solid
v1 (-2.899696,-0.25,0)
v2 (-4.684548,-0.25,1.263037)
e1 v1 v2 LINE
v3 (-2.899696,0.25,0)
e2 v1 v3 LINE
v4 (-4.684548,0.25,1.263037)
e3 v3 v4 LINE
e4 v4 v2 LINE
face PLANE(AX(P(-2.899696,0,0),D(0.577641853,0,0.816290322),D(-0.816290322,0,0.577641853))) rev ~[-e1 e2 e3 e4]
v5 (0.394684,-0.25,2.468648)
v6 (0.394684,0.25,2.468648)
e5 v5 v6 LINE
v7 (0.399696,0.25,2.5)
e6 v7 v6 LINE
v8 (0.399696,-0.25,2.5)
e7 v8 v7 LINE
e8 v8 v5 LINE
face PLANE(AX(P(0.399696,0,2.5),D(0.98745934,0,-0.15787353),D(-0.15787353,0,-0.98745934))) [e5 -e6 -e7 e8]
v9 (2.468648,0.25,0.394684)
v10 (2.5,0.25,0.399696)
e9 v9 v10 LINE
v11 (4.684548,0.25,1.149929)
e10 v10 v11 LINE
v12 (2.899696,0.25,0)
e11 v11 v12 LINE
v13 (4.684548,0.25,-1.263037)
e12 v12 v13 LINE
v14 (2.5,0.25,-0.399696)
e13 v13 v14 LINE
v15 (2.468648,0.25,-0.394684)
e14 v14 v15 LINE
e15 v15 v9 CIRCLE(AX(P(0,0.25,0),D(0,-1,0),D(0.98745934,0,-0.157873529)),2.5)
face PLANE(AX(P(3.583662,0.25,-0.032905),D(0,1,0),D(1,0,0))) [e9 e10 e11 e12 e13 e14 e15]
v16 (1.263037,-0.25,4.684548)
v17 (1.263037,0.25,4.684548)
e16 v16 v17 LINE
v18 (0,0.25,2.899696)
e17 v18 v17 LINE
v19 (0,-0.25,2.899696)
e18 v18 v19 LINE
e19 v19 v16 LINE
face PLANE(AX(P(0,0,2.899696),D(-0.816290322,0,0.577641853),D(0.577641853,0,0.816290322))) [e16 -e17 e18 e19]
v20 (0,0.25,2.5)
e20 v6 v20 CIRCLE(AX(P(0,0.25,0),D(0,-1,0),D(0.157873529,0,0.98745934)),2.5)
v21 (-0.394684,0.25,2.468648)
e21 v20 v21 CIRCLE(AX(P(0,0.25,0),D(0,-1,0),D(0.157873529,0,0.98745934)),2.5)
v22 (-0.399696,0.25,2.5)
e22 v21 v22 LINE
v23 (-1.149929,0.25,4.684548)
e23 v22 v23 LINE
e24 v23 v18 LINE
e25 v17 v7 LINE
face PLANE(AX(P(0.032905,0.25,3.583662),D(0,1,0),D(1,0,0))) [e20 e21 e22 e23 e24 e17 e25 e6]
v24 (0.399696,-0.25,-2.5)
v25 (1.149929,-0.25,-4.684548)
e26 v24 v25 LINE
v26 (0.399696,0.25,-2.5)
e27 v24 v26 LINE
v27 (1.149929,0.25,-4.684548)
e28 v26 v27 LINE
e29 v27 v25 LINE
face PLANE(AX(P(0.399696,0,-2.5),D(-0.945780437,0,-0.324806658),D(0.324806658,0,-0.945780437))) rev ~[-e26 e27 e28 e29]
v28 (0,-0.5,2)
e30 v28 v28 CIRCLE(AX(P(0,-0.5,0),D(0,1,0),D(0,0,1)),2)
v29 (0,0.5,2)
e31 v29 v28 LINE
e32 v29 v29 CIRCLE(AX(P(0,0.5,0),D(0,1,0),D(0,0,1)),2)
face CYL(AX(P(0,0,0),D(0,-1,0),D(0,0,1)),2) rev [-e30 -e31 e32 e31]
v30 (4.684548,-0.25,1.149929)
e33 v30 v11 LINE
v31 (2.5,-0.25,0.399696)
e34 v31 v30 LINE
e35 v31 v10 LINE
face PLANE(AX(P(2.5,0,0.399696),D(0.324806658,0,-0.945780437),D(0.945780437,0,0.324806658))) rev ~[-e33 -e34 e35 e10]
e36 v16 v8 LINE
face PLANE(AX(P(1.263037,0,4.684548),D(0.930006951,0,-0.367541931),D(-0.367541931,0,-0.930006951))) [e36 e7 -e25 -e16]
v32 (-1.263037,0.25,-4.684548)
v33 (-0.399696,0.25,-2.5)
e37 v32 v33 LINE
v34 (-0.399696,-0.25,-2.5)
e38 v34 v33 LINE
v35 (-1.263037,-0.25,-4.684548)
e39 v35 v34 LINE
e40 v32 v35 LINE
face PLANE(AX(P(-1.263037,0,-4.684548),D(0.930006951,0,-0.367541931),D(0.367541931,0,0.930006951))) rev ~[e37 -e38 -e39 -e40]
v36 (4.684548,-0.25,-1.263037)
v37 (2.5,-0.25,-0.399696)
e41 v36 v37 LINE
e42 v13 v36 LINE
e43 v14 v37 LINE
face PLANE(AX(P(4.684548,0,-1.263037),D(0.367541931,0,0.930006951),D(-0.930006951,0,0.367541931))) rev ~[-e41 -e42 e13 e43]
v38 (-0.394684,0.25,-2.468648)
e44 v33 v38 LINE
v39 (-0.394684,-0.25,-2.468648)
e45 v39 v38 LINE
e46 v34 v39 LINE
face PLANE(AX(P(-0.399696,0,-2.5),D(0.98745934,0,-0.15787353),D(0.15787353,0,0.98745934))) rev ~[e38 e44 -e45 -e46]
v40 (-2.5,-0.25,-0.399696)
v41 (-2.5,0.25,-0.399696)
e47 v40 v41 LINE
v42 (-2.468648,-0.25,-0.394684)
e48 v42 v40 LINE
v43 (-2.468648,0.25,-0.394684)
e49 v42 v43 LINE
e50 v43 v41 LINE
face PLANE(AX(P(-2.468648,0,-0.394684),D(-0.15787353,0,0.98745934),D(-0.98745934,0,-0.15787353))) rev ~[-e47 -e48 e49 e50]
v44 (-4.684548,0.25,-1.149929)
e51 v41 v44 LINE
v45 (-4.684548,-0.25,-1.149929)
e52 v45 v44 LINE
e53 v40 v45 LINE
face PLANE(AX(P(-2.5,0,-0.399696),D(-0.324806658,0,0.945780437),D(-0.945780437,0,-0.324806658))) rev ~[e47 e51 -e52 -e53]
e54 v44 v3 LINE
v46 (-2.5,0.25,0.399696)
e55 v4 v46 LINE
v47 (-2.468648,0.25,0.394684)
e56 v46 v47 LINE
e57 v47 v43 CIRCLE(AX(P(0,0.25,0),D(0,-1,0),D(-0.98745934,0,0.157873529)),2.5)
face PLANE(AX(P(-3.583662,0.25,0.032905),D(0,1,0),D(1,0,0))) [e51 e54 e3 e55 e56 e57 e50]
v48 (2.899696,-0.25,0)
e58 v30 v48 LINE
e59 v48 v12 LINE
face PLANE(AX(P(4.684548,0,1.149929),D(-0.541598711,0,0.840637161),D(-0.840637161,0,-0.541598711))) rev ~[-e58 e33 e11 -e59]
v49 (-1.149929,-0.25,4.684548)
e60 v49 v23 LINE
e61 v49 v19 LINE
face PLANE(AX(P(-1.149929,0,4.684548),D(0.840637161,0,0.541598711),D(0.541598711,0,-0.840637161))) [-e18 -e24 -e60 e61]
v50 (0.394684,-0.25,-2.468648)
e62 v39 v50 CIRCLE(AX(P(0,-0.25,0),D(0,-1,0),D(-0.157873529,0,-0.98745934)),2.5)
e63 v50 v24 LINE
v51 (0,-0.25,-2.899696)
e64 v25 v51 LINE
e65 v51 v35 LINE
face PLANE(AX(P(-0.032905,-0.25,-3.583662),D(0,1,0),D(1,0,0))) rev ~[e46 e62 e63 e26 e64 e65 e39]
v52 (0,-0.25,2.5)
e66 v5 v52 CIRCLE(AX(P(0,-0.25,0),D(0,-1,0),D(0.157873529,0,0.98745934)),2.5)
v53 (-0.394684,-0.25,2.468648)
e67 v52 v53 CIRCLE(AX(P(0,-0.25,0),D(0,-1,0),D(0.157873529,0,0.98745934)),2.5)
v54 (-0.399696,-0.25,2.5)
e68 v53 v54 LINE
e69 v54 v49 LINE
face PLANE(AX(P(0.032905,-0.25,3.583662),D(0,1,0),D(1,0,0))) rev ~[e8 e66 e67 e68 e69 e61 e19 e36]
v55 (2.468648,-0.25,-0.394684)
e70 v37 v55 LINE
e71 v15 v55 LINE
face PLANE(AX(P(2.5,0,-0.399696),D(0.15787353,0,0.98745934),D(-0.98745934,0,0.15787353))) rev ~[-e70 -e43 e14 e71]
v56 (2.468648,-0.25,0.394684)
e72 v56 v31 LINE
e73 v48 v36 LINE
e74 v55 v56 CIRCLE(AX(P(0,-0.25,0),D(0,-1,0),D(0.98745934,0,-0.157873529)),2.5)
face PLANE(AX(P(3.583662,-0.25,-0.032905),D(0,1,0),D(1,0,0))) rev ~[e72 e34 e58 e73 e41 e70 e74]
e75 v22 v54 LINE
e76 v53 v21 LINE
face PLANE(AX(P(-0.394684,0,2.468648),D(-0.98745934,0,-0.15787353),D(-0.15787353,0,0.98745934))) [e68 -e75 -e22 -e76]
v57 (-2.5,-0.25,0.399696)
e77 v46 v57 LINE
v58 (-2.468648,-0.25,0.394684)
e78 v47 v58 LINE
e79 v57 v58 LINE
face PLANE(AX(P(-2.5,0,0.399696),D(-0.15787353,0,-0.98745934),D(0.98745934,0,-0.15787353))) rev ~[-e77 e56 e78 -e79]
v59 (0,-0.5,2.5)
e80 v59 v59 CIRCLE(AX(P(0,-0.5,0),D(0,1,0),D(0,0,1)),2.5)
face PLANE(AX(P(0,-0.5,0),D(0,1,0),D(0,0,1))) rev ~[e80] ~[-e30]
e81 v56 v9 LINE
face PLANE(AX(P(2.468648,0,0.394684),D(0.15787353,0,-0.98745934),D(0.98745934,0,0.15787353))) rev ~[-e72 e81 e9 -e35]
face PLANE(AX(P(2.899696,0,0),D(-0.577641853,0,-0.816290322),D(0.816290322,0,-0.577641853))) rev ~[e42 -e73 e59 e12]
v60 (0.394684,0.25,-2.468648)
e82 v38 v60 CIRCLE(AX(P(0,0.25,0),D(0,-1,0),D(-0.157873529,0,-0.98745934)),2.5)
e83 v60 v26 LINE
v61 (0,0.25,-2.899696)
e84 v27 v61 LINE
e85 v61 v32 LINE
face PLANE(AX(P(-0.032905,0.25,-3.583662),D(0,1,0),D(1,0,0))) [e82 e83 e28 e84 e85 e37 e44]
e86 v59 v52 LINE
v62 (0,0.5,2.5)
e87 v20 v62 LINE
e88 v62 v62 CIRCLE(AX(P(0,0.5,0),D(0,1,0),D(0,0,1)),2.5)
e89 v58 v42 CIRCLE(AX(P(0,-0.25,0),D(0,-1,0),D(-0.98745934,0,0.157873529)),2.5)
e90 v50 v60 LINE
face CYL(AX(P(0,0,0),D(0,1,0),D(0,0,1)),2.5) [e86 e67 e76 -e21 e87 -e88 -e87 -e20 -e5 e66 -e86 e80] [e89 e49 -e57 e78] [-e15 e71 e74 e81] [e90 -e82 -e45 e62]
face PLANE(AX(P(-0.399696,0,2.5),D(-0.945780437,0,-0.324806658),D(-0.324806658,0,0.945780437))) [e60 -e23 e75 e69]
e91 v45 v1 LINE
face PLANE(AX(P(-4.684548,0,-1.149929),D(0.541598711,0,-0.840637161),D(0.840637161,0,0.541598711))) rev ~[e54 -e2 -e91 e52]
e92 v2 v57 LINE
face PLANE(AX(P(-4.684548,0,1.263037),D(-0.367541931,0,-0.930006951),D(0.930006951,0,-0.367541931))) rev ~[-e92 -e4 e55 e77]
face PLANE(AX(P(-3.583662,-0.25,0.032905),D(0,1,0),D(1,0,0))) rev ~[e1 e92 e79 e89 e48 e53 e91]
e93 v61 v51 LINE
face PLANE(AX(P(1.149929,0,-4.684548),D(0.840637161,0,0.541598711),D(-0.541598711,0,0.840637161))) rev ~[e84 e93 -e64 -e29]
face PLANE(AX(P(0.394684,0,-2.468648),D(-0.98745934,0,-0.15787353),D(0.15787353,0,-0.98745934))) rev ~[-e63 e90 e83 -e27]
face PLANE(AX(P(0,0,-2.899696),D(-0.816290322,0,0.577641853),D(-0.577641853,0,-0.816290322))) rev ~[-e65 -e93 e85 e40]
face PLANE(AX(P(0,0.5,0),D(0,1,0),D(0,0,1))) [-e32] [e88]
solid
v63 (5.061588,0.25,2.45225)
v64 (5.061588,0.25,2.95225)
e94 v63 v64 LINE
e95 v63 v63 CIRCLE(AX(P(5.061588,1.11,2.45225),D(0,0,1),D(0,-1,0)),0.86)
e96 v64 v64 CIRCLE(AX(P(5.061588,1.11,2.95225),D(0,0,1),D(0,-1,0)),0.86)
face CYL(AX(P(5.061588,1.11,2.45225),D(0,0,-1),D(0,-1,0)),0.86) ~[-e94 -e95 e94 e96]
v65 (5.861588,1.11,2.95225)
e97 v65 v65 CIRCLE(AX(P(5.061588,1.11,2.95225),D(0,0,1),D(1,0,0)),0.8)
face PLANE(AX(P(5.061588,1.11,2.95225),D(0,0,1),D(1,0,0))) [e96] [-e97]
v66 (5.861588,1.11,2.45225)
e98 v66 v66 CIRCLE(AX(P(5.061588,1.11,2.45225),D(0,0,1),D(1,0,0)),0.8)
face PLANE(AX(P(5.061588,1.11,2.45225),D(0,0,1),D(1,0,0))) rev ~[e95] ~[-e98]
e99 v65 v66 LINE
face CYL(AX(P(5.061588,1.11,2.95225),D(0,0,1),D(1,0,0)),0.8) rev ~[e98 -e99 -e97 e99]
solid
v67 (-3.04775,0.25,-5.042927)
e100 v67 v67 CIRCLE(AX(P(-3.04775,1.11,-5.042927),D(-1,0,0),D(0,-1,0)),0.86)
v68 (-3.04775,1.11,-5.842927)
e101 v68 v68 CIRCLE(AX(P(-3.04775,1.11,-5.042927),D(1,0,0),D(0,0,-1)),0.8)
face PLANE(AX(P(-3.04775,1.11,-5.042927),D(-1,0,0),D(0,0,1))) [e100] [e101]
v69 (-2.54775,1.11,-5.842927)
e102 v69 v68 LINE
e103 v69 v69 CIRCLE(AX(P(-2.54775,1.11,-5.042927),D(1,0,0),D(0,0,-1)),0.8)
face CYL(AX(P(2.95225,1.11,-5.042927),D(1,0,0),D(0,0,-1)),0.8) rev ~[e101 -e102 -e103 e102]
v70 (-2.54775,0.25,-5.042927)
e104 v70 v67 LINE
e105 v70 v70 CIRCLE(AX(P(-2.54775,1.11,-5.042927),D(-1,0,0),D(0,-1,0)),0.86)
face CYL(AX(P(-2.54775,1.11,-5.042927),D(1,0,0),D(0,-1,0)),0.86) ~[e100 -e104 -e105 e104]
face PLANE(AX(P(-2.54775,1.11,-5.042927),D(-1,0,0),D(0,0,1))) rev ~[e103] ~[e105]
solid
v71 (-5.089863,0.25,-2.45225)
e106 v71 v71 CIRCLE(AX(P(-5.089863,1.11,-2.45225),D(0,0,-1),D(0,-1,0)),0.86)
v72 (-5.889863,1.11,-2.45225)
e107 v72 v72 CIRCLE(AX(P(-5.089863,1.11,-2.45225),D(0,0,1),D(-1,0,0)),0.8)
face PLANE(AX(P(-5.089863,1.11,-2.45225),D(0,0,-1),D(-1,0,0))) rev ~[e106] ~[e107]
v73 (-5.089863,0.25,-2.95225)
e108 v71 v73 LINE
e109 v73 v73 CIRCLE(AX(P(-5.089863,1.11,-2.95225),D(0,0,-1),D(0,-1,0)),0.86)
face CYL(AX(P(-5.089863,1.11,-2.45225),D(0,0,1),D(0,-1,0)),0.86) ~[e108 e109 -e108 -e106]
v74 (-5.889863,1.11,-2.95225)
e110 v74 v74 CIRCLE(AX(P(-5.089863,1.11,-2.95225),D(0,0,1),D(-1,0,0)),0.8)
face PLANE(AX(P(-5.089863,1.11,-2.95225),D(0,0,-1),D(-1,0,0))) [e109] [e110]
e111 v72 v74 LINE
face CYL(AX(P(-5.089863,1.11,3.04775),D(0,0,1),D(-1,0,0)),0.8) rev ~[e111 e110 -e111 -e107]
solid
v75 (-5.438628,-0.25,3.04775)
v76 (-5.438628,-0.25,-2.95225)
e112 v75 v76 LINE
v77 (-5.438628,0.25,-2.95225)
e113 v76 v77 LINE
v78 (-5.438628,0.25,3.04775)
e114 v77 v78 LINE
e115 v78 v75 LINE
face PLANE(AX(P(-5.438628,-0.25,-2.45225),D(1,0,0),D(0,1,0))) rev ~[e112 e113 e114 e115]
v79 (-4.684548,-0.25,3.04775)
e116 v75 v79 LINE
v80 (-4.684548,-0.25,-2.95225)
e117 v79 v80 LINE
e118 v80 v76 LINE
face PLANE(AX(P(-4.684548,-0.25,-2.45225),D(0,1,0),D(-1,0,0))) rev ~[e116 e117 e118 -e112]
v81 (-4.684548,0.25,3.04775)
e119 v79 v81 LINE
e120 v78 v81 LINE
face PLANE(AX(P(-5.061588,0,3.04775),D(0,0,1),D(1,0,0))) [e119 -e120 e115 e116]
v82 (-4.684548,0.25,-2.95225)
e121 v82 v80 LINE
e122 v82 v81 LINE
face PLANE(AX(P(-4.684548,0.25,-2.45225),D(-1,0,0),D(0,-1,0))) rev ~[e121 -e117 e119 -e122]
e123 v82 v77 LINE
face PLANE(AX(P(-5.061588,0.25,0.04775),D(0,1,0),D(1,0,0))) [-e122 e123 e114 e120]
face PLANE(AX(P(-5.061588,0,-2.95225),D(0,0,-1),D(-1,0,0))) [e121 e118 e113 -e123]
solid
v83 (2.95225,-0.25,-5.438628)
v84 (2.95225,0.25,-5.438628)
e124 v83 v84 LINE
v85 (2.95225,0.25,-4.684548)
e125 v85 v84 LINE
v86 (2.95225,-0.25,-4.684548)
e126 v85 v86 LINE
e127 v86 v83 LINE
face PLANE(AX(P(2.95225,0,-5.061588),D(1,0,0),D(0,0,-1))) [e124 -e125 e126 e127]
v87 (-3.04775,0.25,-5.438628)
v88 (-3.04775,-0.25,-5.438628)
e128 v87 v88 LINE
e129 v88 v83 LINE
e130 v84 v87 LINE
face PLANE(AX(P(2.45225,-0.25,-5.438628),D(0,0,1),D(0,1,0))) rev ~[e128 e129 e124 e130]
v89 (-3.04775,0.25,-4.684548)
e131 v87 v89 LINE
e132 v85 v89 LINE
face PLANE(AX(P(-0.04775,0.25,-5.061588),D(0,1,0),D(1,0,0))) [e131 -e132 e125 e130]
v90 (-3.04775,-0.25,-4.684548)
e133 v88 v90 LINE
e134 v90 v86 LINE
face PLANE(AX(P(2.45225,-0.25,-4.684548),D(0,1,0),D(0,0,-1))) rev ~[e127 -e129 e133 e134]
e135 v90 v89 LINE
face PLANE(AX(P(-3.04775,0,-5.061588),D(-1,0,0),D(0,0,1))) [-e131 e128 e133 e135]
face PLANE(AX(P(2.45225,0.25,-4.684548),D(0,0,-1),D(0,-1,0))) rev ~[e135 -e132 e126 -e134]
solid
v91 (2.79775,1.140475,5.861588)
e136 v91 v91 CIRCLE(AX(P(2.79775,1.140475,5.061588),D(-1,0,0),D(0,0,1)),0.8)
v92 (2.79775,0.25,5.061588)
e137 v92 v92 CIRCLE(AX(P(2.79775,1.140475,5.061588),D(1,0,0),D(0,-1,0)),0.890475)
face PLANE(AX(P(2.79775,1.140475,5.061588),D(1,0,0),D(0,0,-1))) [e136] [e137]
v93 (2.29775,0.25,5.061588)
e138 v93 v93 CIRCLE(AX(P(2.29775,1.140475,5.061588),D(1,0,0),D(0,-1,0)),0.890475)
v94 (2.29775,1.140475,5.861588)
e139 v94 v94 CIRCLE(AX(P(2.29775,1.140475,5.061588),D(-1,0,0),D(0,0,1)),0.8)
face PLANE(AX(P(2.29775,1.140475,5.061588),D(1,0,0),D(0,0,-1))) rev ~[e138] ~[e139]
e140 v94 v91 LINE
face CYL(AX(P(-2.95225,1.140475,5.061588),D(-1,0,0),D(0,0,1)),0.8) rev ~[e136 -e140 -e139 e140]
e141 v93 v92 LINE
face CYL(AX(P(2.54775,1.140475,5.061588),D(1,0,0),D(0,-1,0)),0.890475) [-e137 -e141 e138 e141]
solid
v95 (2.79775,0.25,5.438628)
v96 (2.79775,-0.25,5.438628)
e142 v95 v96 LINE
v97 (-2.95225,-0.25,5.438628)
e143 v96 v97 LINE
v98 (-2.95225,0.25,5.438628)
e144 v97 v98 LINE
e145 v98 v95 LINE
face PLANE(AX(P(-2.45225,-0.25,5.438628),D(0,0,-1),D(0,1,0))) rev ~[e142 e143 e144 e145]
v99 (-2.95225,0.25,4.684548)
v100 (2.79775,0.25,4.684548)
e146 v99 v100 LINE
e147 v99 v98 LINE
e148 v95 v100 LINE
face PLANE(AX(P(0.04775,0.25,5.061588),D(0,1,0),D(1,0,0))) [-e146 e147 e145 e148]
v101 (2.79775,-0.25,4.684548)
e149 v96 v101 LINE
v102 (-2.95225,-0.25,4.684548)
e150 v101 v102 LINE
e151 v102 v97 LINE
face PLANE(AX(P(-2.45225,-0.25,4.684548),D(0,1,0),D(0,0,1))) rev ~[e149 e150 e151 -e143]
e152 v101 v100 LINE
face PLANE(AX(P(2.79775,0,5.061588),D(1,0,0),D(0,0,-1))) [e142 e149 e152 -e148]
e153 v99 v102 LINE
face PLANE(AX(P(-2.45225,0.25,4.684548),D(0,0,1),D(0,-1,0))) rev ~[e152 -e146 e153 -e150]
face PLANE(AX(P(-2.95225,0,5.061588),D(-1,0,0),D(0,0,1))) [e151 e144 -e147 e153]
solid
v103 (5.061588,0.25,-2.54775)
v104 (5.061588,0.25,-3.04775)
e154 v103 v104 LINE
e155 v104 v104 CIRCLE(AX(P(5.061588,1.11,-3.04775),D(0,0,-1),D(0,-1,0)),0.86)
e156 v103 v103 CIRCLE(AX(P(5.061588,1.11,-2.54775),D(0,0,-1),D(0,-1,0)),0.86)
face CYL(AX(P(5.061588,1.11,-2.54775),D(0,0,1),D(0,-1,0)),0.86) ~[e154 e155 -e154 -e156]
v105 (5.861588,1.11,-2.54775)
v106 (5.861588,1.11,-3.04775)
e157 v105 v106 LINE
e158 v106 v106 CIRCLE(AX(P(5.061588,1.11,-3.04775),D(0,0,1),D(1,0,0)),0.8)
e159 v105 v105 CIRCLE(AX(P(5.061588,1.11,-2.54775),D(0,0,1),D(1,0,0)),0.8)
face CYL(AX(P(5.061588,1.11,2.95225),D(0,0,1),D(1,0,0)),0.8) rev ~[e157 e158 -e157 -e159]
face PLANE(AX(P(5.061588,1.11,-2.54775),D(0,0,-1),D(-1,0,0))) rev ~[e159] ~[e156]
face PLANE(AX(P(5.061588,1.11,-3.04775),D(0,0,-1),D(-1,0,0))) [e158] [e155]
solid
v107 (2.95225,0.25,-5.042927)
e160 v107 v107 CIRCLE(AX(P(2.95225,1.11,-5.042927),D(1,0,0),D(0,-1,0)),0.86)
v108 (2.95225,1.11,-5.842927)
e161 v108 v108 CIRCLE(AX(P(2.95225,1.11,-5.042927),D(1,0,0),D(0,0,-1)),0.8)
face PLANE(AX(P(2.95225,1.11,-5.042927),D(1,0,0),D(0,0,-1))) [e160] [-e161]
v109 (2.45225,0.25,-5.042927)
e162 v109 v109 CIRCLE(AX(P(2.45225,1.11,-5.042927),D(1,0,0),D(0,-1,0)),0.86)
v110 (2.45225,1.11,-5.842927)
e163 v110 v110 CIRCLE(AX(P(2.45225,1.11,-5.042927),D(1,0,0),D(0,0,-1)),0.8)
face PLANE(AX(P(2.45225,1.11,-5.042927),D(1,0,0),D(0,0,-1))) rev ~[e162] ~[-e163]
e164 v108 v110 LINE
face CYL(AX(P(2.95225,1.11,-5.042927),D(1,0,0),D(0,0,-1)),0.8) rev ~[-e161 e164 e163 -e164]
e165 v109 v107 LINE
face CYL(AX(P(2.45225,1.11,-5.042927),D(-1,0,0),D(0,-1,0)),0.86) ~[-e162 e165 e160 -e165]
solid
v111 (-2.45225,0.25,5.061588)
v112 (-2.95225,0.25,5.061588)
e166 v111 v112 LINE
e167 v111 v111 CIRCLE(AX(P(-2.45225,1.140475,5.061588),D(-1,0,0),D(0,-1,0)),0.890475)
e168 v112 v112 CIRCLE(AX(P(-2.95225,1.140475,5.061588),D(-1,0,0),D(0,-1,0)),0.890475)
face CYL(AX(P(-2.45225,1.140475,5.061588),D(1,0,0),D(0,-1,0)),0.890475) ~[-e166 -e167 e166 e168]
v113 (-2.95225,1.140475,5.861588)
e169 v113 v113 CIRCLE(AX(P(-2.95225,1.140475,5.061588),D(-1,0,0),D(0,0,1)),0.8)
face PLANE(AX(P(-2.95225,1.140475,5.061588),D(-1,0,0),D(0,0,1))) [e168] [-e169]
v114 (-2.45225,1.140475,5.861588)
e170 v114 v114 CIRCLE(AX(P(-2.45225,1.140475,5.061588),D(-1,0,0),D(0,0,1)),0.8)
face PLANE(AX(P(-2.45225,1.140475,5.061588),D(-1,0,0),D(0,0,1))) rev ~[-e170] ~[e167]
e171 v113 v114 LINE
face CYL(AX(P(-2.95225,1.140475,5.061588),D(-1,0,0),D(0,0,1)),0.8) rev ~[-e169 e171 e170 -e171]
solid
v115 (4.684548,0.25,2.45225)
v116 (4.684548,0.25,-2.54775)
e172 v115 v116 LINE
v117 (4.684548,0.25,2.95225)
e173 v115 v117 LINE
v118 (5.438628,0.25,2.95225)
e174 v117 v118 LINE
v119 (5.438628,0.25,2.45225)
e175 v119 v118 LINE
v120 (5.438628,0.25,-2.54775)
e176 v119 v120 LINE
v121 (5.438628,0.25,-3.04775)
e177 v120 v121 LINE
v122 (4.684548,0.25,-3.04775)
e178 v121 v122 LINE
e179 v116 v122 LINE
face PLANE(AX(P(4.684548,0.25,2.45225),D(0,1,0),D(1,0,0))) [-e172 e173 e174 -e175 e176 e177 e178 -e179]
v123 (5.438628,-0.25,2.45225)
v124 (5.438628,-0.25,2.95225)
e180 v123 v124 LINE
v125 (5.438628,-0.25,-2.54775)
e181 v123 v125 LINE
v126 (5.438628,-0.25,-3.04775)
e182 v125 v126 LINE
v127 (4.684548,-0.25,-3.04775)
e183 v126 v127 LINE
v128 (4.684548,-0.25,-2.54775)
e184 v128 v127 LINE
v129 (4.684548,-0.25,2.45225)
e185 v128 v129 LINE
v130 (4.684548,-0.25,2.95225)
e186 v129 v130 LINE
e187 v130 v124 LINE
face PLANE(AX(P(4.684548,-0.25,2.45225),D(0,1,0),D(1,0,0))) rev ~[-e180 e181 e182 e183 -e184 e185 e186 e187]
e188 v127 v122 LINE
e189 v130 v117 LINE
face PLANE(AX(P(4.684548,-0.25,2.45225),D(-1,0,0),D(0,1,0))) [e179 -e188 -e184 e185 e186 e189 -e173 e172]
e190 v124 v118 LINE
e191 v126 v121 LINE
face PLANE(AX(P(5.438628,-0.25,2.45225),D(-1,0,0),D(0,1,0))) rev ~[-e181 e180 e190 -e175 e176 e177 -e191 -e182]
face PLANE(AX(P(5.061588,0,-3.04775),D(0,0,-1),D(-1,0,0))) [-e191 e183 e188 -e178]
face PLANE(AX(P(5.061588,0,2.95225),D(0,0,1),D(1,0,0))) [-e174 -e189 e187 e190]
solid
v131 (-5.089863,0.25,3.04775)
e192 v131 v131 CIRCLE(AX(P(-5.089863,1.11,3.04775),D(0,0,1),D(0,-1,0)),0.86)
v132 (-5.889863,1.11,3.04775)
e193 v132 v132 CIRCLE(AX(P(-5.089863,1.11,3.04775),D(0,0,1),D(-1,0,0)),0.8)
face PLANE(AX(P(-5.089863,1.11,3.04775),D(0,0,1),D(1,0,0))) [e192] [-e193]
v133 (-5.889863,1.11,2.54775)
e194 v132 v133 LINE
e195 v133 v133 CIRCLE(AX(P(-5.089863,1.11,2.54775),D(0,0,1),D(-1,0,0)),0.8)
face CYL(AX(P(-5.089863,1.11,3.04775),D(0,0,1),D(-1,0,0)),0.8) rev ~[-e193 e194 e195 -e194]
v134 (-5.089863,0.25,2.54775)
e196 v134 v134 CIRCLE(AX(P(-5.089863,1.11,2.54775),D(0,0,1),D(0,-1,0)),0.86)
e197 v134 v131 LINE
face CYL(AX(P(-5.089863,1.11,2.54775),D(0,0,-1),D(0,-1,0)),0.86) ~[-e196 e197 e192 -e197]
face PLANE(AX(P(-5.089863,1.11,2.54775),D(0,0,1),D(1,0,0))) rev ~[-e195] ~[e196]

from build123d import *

# Parameters (mm, degrees)
SKETCH1_R            = 2.5
SKETCH1_R_2          = 2
BOSS_EXTRUDE1_DEPTH  = 0.5
BOSS_EXTRUDE2_DEPTH  = 0.25
SKETCH4_R            = 0.890475272
BOSS_EXTRUDE3_DEPTH  = 0.25
SKETCH5_R            = 0.890475272
BOSS_EXTRUDE4_DEPTH  = 0.5
SKETCH6_R            = 0.86
BOSS_EXTRUDE5_DEPTH  = 0.5
SKETCH7_R            = 0.86
BOSS_EXTRUDE6_DEPTH  = 0.5
SKETCH8_R            = 0.8
CUT_EXTRUDE1_DEPTH   = 11.486117126
SKETCH9_R            = 0.8
CUT_EXTRUDE2_DEPTH   = 11.561450537
SKETCH10_R           = 0.86
BOSS_EXTRUDE7_DEPTH  = 0.5
SKETCH11_R           = 0.86
BOSS_EXTRUDE8_DEPTH  = 0.5
SKETCH12_R           = 0.86
SKETCH12_W           = 0.754080165
SKETCH12_H           = 0.5
BOSS_EXTRUDE9_DEPTH  = 0.5
SKETCH13_R           = 0.86
SKETCH13_W           = 0.754080165
SKETCH13_H           = 0.5
BOSS_EXTRUDE10_DEPTH = 0.5
SKETCH14_R           = 0.8
CUT_EXTRUDE3_DEPTH   = 11.860009477
SKETCH15_R           = 0.8
CUT_EXTRUDE4_DEPTH   = 11.899515797


with BuildPart() as part:
    # Sketch1 → Boss-Extrude1 (new, symmetric)
    with BuildSketch(Plane(origin=(0, 0, 0), x_dir=(1, 0, 0), z_dir=(0, 1, 0))):
        with Locations(Location((0, 0, 0), (0, 0, 270))):
            Circle(SKETCH1_R)
        with Locations(Location((0, 0, 0), (0, 0, 270))):
            Circle(SKETCH1_R_2, mode=Mode.SUBTRACT)
    extrude(amount=BOSS_EXTRUDE1_DEPTH, both=True)

    # Sketch3 → Boss-Extrude2 (add, symmetric)
    with BuildSketch(Plane(origin=(0, 0, 0), x_dir=(1, 0, 0), z_dir=(0, 1, 0))):
        with BuildLine():
            Line((-1.263037005, 4.684547697), (-0.399696275, 2.5))
            Line((-0.399696275, 2.5), (-0.39468382, 2.468648351))
            ThreePointArc((-0.39468382, 2.468648351), (0, 2.5), (0.39468382, 2.468648351))
            Line((0.39468382, 2.468648351), (0.399696275, 2.5))
            Line((0.399696275, 2.5), (1.149929213, 4.684547697))
            Line((1.149929213, 4.684547697), (0, 2.899696275))
            Line((0, 2.899696275), (-1.263037005, 4.684547697))
        make_face()
        Polygon((-2.547749619, 4.684547697), (-1.263037005, 4.684547697), (1.149929213, 4.684547697), (2.452250381, 4.684547697), (2.452250381, 5.438627862), (-2.547749619, 5.438627862), align=None)
        with BuildLine():
            ThreePointArc((-2.468648351, -0.39468382), (-2.5, 0), (-2.468648351, 0.39468382))
            Line((-2.468648351, 0.39468382), (-2.5, 0.399696275))
            Line((-2.5, 0.399696275), (-4.684547697, 1.149929213))
            Line((-4.684547697, 1.149929213), (-2.899696275, 0))
            Line((-2.899696275, 0), (-4.684547697, -1.263037005))
            Line((-4.684547697, -1.263037005), (-2.5, -0.399696275))
            Line((-2.5, -0.399696275), (-2.468648351, -0.39468382))
        make_face()
        with BuildLine():
            ThreePointArc((2.468648351, 0.39468382), (2.5, 0), (2.468648351, -0.39468382))
            Line((2.468648351, -0.39468382), (2.5, -0.399696275))
            Line((2.5, -0.399696275), (4.684547697, -1.149929213))
            Line((4.684547697, -1.149929213), (2.899696275, 0))
            Line((2.899696275, 0), (4.684547697, 1.263037005))
            Line((4.684547697, 1.263037005), (2.5, 0.399696275))
            Line((2.5, 0.399696275), (2.468648351, 0.39468382))
        make_face()
        with BuildLine():
            Line((0.399696275, -2.5), (0.39468382, -2.468648351))
            ThreePointArc((0.39468382, -2.468648351), (0, -2.5), (-0.39468382, -2.468648351))
            Line((-0.39468382, -2.468648351), (-0.399696275, -2.5))
            Line((-0.399696275, -2.5), (-1.149929213, -4.684547697))
            Line((-1.149929213, -4.684547697), (0, -2.899696275))
            Line((0, -2.899696275), (1.263037005, -4.684547697))
            Line((1.263037005, -4.684547697), (0.399696275, -2.5))
        make_face()
        Polygon((-4.684547697, -1.263037005), (-4.684547697, 1.149929213), (-4.684547697, 2.452250381), (-5.438627862, 2.452250381), (-5.438627862, -2.547749619), (-4.684547697, -2.547749619), align=None)
        Polygon((4.684547697, 1.263037005), (4.684547697, -1.149929213), (4.684547697, -2.452250381), (5.438627862, -2.452250381), (5.438627862, 2.547749619), (4.684547697, 2.547749619), align=None)
        Polygon((2.547749619, -4.684547697), (1.263037005, -4.684547697), (-1.149929213, -4.684547697), (-2.452250381, -4.684547697), (-2.452250381, -5.438627862), (2.547749619, -5.438627862), align=None)
    extrude(amount=BOSS_EXTRUDE2_DEPTH, both=True)


with BuildPart() as boss_extrude2_piece_1:
    # of the separate pieces the step leaves, piece 1, a body of its own (boss_extrude2_pieces)
    add(part.part.solids().sort_by_distance((0, -0.5, 2.5))[0])


with BuildPart() as boss_extrude2_piece_2:
    # of the separate pieces the step leaves, piece 2, a body of its own (boss_extrude2_pieces)
    add(part.part.solids().sort_by_distance((5.438627862, -0.25, -2.547749619))[0])

    # Sketch12 → Boss-Extrude9 (add)
    with BuildSketch(Plane(origin=(0, 0, -2.547749619), x_dir=(-1, 0, 0), z_dir=(0, 0, -1))):
        with Locations((-5.06158778, 1.11)):
            Circle(SKETCH12_R)
        with Locations((-5.061587779, 0)):
            Rectangle(SKETCH12_W, SKETCH12_H)
    extrude(amount=BOSS_EXTRUDE9_DEPTH)


with BuildPart() as boss_extrude2_piece_3:
    # of the separate pieces the step leaves, piece 3, a body of its own (boss_extrude2_pieces)
    add(part.part.solids().sort_by_distance((-2.547749619, 0.25, -4.684547697))[0])

    # Sketch10 → Boss-Extrude7 (add)
    with BuildSketch(Plane.ZY.offset(2.547749619)):
        Polygon((-5.438627862, 0.25), (-5.438627862, -0.25), (-4.684547697, -0.25), (-4.684547697, 0.25), (-5.042927266, 0.25), align=None)
        with Locations((-5.042927266, 1.11)):
            Circle(SKETCH10_R)
    extrude(amount=BOSS_EXTRUDE7_DEPTH)


with BuildPart() as boss_extrude2_piece_4:
    # of the separate pieces the step leaves, piece 4, a body of its own (boss_extrude2_pieces)
    add(part.part.solids().sort_by_distance((-4.684547697, 0.25, 2.547749619))[0])

    # Sketch6 → Boss-Extrude5 (add)
    with BuildSketch(Plane.XY.offset(2.547749619)):
        with Locations((-5.089863408, 1.11)):
            Circle(SKETCH6_R)
        Polygon((-5.438627862, 0.25), (-5.438627862, -0.25), (-4.684547697, -0.25), (-4.684547697, 0.25), (-5.089863408, 0.25), align=None)
    extrude(amount=BOSS_EXTRUDE5_DEPTH)


with BuildPart() as boss_extrude2_piece_5:
    # of the separate pieces the step leaves, piece 5, a body of its own (boss_extrude2_pieces)
    add(part.part.solids().sort_by_distance((2.547749619, 0.25, 4.684547697))[0])

    # Sketch4 → Boss-Extrude3 (add, symmetric)
    with BuildSketch(Plane(origin=(2.547749619, 0, 0), x_dir=(0, 0, -1), z_dir=(1, 0, 0))):
        Polygon((-5.06158778, 0.25), (-5.438627862, 0.25), (-5.438627862, -0.25), (-4.684547697, -0.25), (-4.684547697, 0.25), align=None)
        with Locations((-5.06158778, 1.140475272)):
            Circle(SKETCH4_R)
    extrude(amount=BOSS_EXTRUDE3_DEPTH, both=True)


with BuildPart() as boss_extrude3_piece_1:
    # of the separate pieces the step leaves, piece 1, a body of its own (boss_extrude3_pieces)
    add(boss_extrude2_piece_5.part.solids().sort_by_distance((2.297749619, 0.25, 4.684547697))[0])

    # Sketch5 → Boss-Extrude4 (add)
    with BuildSketch(Plane.ZY.offset(2.452250381)):
        with Locations((5.06158778, 1.140475272)):
            Circle(SKETCH5_R)
        Polygon((4.684547697, 0.25), (4.684547697, -0.25), (5.438627862, -0.25), (5.438627862, 0.25), (5.06158778, 0.25), align=None)
    extrude(amount=BOSS_EXTRUDE4_DEPTH)


with BuildPart() as boss_extrude3_piece_2:
    # of the separate pieces the step leaves, piece 2, a body of its own (boss_extrude3_pieces)
    add(boss_extrude2_piece_5.part.solids().sort_by_distance((2.297749619, 1.140475272, 4.171112508))[0])


with BuildPart() as boss_extrude4_piece_1:
    # of the separate pieces the step leaves, piece 1, a body of its own (boss_extrude4_pieces)
    add(boss_extrude3_piece_1.part.solids().sort_by_distance((2.797749619, -0.25, 4.684547697))[0])


with BuildPart() as boss_extrude4_piece_2:
    # of the separate pieces the step leaves, piece 2, a body of its own (boss_extrude4_pieces)
    add(boss_extrude3_piece_1.part.solids().sort_by_distance((-2.452250381, 1.140475272, 5.952063052))[0])


with BuildPart() as boss_extrude5_piece_1:
    # of the separate pieces the step leaves, piece 1, a body of its own (boss_extrude5_pieces)
    add(boss_extrude2_piece_4.part.solids().sort_by_distance((-4.684547697, 0.25, 2.547749619))[0])

    # Sketch7 → Boss-Extrude6 (add)
    with BuildSketch(Plane(origin=(0, 0, -2.452250381), x_dir=(-1, 0, 0), z_dir=(0, 0, -1))):
        with Locations((5.089863408, 1.11)):
            Circle(SKETCH7_R)
        Polygon((4.684547697, 0.25), (4.684547697, -0.25), (5.438627862, -0.25), (5.438627862, 0.25), (5.089863408, 0.25), align=None)
    extrude(amount=BOSS_EXTRUDE6_DEPTH)


with BuildPart() as boss_extrude5_piece_2:
    # of the separate pieces the step leaves, piece 2, a body of its own (boss_extrude5_pieces)
    add(boss_extrude2_piece_4.part.solids().sort_by_distance((-4.229863408, 1.11, 2.547749619))[0])


with BuildPart() as boss_extrude6_piece_1:
    # of the separate pieces the step leaves, piece 1, a body of its own (boss_extrude6_pieces)
    add(boss_extrude5_piece_1.part.solids().sort_by_distance((-4.684547697, -0.25, 3.047749619))[0])


with BuildPart() as boss_extrude6_piece_2:
    # of the separate pieces the step leaves, piece 2, a body of its own (boss_extrude6_pieces)
    add(boss_extrude5_piece_1.part.solids().sort_by_distance((-5.949863408, 1.11, -2.452250381))[0])


with BuildPart() as cut_extrude1_tool:
    # Sketch8 → Cut-Extrude1 (new, through all)
    with BuildSketch(Plane.ZY.offset(2.952250381)):
        with Locations((5.06158778, 1.140475272)):
            Circle(SKETCH8_R)
    extrude(amount=-CUT_EXTRUDE1_DEPTH)


with BuildPart() as boss_extrude3_piece_2_1:
    add(boss_extrude3_piece_2.part)

    # Cut-Extrude1: cut by cut_extrude1_tool
    add(cut_extrude1_tool.part, mode=Mode.SUBTRACT)


with BuildPart() as boss_extrude4_piece_2_1:
    add(boss_extrude4_piece_2.part)

    # Cut-Extrude1: cut by cut_extrude1_tool
    add(cut_extrude1_tool.part, mode=Mode.SUBTRACT)


with BuildPart() as cut_extrude2_tool:
    # Sketch9 → Cut-Extrude2 (new, through all)
    with BuildSketch(Plane.XY.offset(3.047749619)):
        with Locations(Location((-5.089863408, 1.11, 0), (0, 0, 180))):
            Circle(SKETCH9_R)
    extrude(amount=-CUT_EXTRUDE2_DEPTH)


with BuildPart() as boss_extrude5_piece_2_1:
    add(boss_extrude5_piece_2.part)

    # Cut-Extrude2: cut by cut_extrude2_tool
    add(cut_extrude2_tool.part, mode=Mode.SUBTRACT)


with BuildPart() as boss_extrude6_piece_2_1:
    add(boss_extrude6_piece_2.part)

    # Cut-Extrude2: cut by cut_extrude2_tool
    add(cut_extrude2_tool.part, mode=Mode.SUBTRACT)


with BuildPart() as boss_extrude7_piece_1:
    # of the separate pieces the step leaves, piece 1, a body of its own (boss_extrude7_pieces)
    add(boss_extrude2_piece_3.part.solids().sort_by_distance((-2.547749619, 0.25, -4.684547697))[0])

    # Sketch11 → Boss-Extrude8 (add)
    with BuildSketch(Plane(origin=(2.452250381, 0, 0), x_dir=(0, 0, -1), z_dir=(1, 0, 0))):
        with Locations((5.042927266, 1.11)):
            Circle(SKETCH11_R)
        Polygon((4.684547697, 0.25), (4.684547697, -0.25), (5.438627862, -0.25), (5.438627862, 0.25), (5.042927266, 0.25), align=None)
    extrude(amount=BOSS_EXTRUDE8_DEPTH)


with BuildPart() as boss_extrude7_piece_2:
    # of the separate pieces the step leaves, piece 2, a body of its own (boss_extrude7_pieces)
    add(boss_extrude2_piece_3.part.solids().sort_by_distance((-2.547749619, 1.11, -4.182927266))[0])


with BuildPart() as boss_extrude8_piece_1:
    # of the separate pieces the step leaves, piece 1, a body of its own (boss_extrude8_pieces)
    add(boss_extrude7_piece_1.part.solids().sort_by_distance((-3.047749619, -0.25, -4.684547697))[0])


with BuildPart() as boss_extrude8_piece_2:
    # of the separate pieces the step leaves, piece 2, a body of its own (boss_extrude8_pieces)
    add(boss_extrude7_piece_1.part.solids().sort_by_distance((2.452250381, 1.11, -5.902927266))[0])


with BuildPart() as boss_extrude9_piece_1:
    # of the separate pieces the step leaves, piece 1, a body of its own (boss_extrude9_pieces)
    add(boss_extrude2_piece_2.part.solids().sort_by_distance((4.684547697, -0.25, 2.452250381))[0])

    # Sketch13 → Boss-Extrude10 (add)
    with BuildSketch(Plane.XY.offset(2.452250381)):
        with Locations((5.06158778, 1.11)):
            Circle(SKETCH13_R)
        with Locations((5.061587779, 0)):
            Rectangle(SKETCH13_W, SKETCH13_H)
    extrude(amount=BOSS_EXTRUDE10_DEPTH)


with BuildPart() as boss_extrude9_piece_2:
    # of the separate pieces the step leaves, piece 2, a body of its own (boss_extrude9_pieces)
    add(boss_extrude2_piece_2.part.solids().sort_by_distance((4.20158778, 1.11, -2.547749619))[0])


with BuildPart() as boss_extrude10_piece_1:
    # of the separate pieces the step leaves, piece 1, a body of its own (boss_extrude10_pieces)
    add(boss_extrude9_piece_1.part.solids().sort_by_distance((4.684547697, -0.25, 2.952250381))[0])


with BuildPart() as boss_extrude10_piece_2:
    # of the separate pieces the step leaves, piece 2, a body of its own (boss_extrude10_pieces)
    add(boss_extrude9_piece_1.part.solids().sort_by_distance((5.92158778, 1.11, 2.452250381))[0])


with BuildPart() as cut_extrude3_tool:
    # Sketch14 → Cut-Extrude3 (new, through all)
    with BuildSketch(Plane.XY.offset(2.952250381)):
        with Locations((5.06158778, 1.11)):
            Circle(SKETCH14_R)
    extrude(amount=-CUT_EXTRUDE3_DEPTH)


with BuildPart() as boss_extrude9_piece_2_1:
    add(boss_extrude9_piece_2.part)

    # Cut-Extrude3: cut by cut_extrude3_tool
    add(cut_extrude3_tool.part, mode=Mode.SUBTRACT)


with BuildPart() as boss_extrude10_piece_2_1:
    add(boss_extrude10_piece_2.part)

    # Cut-Extrude3: cut by cut_extrude3_tool
    add(cut_extrude3_tool.part, mode=Mode.SUBTRACT)


with BuildPart() as cut_extrude4_tool:
    # Sketch15 → Cut-Extrude4 (new, through all)
    with BuildSketch(Plane(origin=(2.952250381, 0, 0), x_dir=(0, 0, -1), z_dir=(1, 0, 0))):
        with Locations((5.042927266, 1.11)):
            Circle(SKETCH15_R)
    extrude(amount=-CUT_EXTRUDE4_DEPTH)


with BuildPart() as boss_extrude7_piece_2_1:
    add(boss_extrude7_piece_2.part)

    # Cut-Extrude4: cut by cut_extrude4_tool
    add(cut_extrude4_tool.part, mode=Mode.SUBTRACT)


with BuildPart() as boss_extrude8_piece_2_1:
    add(boss_extrude8_piece_2.part)

    # Cut-Extrude4: cut by cut_extrude4_tool
    add(cut_extrude4_tool.part, mode=Mode.SUBTRACT)


solid = Compound([boss_extrude2_piece_1.part, boss_extrude4_piece_1.part, boss_extrude6_piece_1.part, boss_extrude3_piece_2_1.part, boss_extrude4_piece_2_1.part, boss_extrude5_piece_2_1.part, boss_extrude6_piece_2_1.part, boss_extrude8_piece_1.part, boss_extrude10_piece_1.part, boss_extrude9_piece_2_1.part, boss_extrude10_piece_2_1.part, boss_extrude7_piece_2_1.part, boss_extrude8_piece_2_1.part])
